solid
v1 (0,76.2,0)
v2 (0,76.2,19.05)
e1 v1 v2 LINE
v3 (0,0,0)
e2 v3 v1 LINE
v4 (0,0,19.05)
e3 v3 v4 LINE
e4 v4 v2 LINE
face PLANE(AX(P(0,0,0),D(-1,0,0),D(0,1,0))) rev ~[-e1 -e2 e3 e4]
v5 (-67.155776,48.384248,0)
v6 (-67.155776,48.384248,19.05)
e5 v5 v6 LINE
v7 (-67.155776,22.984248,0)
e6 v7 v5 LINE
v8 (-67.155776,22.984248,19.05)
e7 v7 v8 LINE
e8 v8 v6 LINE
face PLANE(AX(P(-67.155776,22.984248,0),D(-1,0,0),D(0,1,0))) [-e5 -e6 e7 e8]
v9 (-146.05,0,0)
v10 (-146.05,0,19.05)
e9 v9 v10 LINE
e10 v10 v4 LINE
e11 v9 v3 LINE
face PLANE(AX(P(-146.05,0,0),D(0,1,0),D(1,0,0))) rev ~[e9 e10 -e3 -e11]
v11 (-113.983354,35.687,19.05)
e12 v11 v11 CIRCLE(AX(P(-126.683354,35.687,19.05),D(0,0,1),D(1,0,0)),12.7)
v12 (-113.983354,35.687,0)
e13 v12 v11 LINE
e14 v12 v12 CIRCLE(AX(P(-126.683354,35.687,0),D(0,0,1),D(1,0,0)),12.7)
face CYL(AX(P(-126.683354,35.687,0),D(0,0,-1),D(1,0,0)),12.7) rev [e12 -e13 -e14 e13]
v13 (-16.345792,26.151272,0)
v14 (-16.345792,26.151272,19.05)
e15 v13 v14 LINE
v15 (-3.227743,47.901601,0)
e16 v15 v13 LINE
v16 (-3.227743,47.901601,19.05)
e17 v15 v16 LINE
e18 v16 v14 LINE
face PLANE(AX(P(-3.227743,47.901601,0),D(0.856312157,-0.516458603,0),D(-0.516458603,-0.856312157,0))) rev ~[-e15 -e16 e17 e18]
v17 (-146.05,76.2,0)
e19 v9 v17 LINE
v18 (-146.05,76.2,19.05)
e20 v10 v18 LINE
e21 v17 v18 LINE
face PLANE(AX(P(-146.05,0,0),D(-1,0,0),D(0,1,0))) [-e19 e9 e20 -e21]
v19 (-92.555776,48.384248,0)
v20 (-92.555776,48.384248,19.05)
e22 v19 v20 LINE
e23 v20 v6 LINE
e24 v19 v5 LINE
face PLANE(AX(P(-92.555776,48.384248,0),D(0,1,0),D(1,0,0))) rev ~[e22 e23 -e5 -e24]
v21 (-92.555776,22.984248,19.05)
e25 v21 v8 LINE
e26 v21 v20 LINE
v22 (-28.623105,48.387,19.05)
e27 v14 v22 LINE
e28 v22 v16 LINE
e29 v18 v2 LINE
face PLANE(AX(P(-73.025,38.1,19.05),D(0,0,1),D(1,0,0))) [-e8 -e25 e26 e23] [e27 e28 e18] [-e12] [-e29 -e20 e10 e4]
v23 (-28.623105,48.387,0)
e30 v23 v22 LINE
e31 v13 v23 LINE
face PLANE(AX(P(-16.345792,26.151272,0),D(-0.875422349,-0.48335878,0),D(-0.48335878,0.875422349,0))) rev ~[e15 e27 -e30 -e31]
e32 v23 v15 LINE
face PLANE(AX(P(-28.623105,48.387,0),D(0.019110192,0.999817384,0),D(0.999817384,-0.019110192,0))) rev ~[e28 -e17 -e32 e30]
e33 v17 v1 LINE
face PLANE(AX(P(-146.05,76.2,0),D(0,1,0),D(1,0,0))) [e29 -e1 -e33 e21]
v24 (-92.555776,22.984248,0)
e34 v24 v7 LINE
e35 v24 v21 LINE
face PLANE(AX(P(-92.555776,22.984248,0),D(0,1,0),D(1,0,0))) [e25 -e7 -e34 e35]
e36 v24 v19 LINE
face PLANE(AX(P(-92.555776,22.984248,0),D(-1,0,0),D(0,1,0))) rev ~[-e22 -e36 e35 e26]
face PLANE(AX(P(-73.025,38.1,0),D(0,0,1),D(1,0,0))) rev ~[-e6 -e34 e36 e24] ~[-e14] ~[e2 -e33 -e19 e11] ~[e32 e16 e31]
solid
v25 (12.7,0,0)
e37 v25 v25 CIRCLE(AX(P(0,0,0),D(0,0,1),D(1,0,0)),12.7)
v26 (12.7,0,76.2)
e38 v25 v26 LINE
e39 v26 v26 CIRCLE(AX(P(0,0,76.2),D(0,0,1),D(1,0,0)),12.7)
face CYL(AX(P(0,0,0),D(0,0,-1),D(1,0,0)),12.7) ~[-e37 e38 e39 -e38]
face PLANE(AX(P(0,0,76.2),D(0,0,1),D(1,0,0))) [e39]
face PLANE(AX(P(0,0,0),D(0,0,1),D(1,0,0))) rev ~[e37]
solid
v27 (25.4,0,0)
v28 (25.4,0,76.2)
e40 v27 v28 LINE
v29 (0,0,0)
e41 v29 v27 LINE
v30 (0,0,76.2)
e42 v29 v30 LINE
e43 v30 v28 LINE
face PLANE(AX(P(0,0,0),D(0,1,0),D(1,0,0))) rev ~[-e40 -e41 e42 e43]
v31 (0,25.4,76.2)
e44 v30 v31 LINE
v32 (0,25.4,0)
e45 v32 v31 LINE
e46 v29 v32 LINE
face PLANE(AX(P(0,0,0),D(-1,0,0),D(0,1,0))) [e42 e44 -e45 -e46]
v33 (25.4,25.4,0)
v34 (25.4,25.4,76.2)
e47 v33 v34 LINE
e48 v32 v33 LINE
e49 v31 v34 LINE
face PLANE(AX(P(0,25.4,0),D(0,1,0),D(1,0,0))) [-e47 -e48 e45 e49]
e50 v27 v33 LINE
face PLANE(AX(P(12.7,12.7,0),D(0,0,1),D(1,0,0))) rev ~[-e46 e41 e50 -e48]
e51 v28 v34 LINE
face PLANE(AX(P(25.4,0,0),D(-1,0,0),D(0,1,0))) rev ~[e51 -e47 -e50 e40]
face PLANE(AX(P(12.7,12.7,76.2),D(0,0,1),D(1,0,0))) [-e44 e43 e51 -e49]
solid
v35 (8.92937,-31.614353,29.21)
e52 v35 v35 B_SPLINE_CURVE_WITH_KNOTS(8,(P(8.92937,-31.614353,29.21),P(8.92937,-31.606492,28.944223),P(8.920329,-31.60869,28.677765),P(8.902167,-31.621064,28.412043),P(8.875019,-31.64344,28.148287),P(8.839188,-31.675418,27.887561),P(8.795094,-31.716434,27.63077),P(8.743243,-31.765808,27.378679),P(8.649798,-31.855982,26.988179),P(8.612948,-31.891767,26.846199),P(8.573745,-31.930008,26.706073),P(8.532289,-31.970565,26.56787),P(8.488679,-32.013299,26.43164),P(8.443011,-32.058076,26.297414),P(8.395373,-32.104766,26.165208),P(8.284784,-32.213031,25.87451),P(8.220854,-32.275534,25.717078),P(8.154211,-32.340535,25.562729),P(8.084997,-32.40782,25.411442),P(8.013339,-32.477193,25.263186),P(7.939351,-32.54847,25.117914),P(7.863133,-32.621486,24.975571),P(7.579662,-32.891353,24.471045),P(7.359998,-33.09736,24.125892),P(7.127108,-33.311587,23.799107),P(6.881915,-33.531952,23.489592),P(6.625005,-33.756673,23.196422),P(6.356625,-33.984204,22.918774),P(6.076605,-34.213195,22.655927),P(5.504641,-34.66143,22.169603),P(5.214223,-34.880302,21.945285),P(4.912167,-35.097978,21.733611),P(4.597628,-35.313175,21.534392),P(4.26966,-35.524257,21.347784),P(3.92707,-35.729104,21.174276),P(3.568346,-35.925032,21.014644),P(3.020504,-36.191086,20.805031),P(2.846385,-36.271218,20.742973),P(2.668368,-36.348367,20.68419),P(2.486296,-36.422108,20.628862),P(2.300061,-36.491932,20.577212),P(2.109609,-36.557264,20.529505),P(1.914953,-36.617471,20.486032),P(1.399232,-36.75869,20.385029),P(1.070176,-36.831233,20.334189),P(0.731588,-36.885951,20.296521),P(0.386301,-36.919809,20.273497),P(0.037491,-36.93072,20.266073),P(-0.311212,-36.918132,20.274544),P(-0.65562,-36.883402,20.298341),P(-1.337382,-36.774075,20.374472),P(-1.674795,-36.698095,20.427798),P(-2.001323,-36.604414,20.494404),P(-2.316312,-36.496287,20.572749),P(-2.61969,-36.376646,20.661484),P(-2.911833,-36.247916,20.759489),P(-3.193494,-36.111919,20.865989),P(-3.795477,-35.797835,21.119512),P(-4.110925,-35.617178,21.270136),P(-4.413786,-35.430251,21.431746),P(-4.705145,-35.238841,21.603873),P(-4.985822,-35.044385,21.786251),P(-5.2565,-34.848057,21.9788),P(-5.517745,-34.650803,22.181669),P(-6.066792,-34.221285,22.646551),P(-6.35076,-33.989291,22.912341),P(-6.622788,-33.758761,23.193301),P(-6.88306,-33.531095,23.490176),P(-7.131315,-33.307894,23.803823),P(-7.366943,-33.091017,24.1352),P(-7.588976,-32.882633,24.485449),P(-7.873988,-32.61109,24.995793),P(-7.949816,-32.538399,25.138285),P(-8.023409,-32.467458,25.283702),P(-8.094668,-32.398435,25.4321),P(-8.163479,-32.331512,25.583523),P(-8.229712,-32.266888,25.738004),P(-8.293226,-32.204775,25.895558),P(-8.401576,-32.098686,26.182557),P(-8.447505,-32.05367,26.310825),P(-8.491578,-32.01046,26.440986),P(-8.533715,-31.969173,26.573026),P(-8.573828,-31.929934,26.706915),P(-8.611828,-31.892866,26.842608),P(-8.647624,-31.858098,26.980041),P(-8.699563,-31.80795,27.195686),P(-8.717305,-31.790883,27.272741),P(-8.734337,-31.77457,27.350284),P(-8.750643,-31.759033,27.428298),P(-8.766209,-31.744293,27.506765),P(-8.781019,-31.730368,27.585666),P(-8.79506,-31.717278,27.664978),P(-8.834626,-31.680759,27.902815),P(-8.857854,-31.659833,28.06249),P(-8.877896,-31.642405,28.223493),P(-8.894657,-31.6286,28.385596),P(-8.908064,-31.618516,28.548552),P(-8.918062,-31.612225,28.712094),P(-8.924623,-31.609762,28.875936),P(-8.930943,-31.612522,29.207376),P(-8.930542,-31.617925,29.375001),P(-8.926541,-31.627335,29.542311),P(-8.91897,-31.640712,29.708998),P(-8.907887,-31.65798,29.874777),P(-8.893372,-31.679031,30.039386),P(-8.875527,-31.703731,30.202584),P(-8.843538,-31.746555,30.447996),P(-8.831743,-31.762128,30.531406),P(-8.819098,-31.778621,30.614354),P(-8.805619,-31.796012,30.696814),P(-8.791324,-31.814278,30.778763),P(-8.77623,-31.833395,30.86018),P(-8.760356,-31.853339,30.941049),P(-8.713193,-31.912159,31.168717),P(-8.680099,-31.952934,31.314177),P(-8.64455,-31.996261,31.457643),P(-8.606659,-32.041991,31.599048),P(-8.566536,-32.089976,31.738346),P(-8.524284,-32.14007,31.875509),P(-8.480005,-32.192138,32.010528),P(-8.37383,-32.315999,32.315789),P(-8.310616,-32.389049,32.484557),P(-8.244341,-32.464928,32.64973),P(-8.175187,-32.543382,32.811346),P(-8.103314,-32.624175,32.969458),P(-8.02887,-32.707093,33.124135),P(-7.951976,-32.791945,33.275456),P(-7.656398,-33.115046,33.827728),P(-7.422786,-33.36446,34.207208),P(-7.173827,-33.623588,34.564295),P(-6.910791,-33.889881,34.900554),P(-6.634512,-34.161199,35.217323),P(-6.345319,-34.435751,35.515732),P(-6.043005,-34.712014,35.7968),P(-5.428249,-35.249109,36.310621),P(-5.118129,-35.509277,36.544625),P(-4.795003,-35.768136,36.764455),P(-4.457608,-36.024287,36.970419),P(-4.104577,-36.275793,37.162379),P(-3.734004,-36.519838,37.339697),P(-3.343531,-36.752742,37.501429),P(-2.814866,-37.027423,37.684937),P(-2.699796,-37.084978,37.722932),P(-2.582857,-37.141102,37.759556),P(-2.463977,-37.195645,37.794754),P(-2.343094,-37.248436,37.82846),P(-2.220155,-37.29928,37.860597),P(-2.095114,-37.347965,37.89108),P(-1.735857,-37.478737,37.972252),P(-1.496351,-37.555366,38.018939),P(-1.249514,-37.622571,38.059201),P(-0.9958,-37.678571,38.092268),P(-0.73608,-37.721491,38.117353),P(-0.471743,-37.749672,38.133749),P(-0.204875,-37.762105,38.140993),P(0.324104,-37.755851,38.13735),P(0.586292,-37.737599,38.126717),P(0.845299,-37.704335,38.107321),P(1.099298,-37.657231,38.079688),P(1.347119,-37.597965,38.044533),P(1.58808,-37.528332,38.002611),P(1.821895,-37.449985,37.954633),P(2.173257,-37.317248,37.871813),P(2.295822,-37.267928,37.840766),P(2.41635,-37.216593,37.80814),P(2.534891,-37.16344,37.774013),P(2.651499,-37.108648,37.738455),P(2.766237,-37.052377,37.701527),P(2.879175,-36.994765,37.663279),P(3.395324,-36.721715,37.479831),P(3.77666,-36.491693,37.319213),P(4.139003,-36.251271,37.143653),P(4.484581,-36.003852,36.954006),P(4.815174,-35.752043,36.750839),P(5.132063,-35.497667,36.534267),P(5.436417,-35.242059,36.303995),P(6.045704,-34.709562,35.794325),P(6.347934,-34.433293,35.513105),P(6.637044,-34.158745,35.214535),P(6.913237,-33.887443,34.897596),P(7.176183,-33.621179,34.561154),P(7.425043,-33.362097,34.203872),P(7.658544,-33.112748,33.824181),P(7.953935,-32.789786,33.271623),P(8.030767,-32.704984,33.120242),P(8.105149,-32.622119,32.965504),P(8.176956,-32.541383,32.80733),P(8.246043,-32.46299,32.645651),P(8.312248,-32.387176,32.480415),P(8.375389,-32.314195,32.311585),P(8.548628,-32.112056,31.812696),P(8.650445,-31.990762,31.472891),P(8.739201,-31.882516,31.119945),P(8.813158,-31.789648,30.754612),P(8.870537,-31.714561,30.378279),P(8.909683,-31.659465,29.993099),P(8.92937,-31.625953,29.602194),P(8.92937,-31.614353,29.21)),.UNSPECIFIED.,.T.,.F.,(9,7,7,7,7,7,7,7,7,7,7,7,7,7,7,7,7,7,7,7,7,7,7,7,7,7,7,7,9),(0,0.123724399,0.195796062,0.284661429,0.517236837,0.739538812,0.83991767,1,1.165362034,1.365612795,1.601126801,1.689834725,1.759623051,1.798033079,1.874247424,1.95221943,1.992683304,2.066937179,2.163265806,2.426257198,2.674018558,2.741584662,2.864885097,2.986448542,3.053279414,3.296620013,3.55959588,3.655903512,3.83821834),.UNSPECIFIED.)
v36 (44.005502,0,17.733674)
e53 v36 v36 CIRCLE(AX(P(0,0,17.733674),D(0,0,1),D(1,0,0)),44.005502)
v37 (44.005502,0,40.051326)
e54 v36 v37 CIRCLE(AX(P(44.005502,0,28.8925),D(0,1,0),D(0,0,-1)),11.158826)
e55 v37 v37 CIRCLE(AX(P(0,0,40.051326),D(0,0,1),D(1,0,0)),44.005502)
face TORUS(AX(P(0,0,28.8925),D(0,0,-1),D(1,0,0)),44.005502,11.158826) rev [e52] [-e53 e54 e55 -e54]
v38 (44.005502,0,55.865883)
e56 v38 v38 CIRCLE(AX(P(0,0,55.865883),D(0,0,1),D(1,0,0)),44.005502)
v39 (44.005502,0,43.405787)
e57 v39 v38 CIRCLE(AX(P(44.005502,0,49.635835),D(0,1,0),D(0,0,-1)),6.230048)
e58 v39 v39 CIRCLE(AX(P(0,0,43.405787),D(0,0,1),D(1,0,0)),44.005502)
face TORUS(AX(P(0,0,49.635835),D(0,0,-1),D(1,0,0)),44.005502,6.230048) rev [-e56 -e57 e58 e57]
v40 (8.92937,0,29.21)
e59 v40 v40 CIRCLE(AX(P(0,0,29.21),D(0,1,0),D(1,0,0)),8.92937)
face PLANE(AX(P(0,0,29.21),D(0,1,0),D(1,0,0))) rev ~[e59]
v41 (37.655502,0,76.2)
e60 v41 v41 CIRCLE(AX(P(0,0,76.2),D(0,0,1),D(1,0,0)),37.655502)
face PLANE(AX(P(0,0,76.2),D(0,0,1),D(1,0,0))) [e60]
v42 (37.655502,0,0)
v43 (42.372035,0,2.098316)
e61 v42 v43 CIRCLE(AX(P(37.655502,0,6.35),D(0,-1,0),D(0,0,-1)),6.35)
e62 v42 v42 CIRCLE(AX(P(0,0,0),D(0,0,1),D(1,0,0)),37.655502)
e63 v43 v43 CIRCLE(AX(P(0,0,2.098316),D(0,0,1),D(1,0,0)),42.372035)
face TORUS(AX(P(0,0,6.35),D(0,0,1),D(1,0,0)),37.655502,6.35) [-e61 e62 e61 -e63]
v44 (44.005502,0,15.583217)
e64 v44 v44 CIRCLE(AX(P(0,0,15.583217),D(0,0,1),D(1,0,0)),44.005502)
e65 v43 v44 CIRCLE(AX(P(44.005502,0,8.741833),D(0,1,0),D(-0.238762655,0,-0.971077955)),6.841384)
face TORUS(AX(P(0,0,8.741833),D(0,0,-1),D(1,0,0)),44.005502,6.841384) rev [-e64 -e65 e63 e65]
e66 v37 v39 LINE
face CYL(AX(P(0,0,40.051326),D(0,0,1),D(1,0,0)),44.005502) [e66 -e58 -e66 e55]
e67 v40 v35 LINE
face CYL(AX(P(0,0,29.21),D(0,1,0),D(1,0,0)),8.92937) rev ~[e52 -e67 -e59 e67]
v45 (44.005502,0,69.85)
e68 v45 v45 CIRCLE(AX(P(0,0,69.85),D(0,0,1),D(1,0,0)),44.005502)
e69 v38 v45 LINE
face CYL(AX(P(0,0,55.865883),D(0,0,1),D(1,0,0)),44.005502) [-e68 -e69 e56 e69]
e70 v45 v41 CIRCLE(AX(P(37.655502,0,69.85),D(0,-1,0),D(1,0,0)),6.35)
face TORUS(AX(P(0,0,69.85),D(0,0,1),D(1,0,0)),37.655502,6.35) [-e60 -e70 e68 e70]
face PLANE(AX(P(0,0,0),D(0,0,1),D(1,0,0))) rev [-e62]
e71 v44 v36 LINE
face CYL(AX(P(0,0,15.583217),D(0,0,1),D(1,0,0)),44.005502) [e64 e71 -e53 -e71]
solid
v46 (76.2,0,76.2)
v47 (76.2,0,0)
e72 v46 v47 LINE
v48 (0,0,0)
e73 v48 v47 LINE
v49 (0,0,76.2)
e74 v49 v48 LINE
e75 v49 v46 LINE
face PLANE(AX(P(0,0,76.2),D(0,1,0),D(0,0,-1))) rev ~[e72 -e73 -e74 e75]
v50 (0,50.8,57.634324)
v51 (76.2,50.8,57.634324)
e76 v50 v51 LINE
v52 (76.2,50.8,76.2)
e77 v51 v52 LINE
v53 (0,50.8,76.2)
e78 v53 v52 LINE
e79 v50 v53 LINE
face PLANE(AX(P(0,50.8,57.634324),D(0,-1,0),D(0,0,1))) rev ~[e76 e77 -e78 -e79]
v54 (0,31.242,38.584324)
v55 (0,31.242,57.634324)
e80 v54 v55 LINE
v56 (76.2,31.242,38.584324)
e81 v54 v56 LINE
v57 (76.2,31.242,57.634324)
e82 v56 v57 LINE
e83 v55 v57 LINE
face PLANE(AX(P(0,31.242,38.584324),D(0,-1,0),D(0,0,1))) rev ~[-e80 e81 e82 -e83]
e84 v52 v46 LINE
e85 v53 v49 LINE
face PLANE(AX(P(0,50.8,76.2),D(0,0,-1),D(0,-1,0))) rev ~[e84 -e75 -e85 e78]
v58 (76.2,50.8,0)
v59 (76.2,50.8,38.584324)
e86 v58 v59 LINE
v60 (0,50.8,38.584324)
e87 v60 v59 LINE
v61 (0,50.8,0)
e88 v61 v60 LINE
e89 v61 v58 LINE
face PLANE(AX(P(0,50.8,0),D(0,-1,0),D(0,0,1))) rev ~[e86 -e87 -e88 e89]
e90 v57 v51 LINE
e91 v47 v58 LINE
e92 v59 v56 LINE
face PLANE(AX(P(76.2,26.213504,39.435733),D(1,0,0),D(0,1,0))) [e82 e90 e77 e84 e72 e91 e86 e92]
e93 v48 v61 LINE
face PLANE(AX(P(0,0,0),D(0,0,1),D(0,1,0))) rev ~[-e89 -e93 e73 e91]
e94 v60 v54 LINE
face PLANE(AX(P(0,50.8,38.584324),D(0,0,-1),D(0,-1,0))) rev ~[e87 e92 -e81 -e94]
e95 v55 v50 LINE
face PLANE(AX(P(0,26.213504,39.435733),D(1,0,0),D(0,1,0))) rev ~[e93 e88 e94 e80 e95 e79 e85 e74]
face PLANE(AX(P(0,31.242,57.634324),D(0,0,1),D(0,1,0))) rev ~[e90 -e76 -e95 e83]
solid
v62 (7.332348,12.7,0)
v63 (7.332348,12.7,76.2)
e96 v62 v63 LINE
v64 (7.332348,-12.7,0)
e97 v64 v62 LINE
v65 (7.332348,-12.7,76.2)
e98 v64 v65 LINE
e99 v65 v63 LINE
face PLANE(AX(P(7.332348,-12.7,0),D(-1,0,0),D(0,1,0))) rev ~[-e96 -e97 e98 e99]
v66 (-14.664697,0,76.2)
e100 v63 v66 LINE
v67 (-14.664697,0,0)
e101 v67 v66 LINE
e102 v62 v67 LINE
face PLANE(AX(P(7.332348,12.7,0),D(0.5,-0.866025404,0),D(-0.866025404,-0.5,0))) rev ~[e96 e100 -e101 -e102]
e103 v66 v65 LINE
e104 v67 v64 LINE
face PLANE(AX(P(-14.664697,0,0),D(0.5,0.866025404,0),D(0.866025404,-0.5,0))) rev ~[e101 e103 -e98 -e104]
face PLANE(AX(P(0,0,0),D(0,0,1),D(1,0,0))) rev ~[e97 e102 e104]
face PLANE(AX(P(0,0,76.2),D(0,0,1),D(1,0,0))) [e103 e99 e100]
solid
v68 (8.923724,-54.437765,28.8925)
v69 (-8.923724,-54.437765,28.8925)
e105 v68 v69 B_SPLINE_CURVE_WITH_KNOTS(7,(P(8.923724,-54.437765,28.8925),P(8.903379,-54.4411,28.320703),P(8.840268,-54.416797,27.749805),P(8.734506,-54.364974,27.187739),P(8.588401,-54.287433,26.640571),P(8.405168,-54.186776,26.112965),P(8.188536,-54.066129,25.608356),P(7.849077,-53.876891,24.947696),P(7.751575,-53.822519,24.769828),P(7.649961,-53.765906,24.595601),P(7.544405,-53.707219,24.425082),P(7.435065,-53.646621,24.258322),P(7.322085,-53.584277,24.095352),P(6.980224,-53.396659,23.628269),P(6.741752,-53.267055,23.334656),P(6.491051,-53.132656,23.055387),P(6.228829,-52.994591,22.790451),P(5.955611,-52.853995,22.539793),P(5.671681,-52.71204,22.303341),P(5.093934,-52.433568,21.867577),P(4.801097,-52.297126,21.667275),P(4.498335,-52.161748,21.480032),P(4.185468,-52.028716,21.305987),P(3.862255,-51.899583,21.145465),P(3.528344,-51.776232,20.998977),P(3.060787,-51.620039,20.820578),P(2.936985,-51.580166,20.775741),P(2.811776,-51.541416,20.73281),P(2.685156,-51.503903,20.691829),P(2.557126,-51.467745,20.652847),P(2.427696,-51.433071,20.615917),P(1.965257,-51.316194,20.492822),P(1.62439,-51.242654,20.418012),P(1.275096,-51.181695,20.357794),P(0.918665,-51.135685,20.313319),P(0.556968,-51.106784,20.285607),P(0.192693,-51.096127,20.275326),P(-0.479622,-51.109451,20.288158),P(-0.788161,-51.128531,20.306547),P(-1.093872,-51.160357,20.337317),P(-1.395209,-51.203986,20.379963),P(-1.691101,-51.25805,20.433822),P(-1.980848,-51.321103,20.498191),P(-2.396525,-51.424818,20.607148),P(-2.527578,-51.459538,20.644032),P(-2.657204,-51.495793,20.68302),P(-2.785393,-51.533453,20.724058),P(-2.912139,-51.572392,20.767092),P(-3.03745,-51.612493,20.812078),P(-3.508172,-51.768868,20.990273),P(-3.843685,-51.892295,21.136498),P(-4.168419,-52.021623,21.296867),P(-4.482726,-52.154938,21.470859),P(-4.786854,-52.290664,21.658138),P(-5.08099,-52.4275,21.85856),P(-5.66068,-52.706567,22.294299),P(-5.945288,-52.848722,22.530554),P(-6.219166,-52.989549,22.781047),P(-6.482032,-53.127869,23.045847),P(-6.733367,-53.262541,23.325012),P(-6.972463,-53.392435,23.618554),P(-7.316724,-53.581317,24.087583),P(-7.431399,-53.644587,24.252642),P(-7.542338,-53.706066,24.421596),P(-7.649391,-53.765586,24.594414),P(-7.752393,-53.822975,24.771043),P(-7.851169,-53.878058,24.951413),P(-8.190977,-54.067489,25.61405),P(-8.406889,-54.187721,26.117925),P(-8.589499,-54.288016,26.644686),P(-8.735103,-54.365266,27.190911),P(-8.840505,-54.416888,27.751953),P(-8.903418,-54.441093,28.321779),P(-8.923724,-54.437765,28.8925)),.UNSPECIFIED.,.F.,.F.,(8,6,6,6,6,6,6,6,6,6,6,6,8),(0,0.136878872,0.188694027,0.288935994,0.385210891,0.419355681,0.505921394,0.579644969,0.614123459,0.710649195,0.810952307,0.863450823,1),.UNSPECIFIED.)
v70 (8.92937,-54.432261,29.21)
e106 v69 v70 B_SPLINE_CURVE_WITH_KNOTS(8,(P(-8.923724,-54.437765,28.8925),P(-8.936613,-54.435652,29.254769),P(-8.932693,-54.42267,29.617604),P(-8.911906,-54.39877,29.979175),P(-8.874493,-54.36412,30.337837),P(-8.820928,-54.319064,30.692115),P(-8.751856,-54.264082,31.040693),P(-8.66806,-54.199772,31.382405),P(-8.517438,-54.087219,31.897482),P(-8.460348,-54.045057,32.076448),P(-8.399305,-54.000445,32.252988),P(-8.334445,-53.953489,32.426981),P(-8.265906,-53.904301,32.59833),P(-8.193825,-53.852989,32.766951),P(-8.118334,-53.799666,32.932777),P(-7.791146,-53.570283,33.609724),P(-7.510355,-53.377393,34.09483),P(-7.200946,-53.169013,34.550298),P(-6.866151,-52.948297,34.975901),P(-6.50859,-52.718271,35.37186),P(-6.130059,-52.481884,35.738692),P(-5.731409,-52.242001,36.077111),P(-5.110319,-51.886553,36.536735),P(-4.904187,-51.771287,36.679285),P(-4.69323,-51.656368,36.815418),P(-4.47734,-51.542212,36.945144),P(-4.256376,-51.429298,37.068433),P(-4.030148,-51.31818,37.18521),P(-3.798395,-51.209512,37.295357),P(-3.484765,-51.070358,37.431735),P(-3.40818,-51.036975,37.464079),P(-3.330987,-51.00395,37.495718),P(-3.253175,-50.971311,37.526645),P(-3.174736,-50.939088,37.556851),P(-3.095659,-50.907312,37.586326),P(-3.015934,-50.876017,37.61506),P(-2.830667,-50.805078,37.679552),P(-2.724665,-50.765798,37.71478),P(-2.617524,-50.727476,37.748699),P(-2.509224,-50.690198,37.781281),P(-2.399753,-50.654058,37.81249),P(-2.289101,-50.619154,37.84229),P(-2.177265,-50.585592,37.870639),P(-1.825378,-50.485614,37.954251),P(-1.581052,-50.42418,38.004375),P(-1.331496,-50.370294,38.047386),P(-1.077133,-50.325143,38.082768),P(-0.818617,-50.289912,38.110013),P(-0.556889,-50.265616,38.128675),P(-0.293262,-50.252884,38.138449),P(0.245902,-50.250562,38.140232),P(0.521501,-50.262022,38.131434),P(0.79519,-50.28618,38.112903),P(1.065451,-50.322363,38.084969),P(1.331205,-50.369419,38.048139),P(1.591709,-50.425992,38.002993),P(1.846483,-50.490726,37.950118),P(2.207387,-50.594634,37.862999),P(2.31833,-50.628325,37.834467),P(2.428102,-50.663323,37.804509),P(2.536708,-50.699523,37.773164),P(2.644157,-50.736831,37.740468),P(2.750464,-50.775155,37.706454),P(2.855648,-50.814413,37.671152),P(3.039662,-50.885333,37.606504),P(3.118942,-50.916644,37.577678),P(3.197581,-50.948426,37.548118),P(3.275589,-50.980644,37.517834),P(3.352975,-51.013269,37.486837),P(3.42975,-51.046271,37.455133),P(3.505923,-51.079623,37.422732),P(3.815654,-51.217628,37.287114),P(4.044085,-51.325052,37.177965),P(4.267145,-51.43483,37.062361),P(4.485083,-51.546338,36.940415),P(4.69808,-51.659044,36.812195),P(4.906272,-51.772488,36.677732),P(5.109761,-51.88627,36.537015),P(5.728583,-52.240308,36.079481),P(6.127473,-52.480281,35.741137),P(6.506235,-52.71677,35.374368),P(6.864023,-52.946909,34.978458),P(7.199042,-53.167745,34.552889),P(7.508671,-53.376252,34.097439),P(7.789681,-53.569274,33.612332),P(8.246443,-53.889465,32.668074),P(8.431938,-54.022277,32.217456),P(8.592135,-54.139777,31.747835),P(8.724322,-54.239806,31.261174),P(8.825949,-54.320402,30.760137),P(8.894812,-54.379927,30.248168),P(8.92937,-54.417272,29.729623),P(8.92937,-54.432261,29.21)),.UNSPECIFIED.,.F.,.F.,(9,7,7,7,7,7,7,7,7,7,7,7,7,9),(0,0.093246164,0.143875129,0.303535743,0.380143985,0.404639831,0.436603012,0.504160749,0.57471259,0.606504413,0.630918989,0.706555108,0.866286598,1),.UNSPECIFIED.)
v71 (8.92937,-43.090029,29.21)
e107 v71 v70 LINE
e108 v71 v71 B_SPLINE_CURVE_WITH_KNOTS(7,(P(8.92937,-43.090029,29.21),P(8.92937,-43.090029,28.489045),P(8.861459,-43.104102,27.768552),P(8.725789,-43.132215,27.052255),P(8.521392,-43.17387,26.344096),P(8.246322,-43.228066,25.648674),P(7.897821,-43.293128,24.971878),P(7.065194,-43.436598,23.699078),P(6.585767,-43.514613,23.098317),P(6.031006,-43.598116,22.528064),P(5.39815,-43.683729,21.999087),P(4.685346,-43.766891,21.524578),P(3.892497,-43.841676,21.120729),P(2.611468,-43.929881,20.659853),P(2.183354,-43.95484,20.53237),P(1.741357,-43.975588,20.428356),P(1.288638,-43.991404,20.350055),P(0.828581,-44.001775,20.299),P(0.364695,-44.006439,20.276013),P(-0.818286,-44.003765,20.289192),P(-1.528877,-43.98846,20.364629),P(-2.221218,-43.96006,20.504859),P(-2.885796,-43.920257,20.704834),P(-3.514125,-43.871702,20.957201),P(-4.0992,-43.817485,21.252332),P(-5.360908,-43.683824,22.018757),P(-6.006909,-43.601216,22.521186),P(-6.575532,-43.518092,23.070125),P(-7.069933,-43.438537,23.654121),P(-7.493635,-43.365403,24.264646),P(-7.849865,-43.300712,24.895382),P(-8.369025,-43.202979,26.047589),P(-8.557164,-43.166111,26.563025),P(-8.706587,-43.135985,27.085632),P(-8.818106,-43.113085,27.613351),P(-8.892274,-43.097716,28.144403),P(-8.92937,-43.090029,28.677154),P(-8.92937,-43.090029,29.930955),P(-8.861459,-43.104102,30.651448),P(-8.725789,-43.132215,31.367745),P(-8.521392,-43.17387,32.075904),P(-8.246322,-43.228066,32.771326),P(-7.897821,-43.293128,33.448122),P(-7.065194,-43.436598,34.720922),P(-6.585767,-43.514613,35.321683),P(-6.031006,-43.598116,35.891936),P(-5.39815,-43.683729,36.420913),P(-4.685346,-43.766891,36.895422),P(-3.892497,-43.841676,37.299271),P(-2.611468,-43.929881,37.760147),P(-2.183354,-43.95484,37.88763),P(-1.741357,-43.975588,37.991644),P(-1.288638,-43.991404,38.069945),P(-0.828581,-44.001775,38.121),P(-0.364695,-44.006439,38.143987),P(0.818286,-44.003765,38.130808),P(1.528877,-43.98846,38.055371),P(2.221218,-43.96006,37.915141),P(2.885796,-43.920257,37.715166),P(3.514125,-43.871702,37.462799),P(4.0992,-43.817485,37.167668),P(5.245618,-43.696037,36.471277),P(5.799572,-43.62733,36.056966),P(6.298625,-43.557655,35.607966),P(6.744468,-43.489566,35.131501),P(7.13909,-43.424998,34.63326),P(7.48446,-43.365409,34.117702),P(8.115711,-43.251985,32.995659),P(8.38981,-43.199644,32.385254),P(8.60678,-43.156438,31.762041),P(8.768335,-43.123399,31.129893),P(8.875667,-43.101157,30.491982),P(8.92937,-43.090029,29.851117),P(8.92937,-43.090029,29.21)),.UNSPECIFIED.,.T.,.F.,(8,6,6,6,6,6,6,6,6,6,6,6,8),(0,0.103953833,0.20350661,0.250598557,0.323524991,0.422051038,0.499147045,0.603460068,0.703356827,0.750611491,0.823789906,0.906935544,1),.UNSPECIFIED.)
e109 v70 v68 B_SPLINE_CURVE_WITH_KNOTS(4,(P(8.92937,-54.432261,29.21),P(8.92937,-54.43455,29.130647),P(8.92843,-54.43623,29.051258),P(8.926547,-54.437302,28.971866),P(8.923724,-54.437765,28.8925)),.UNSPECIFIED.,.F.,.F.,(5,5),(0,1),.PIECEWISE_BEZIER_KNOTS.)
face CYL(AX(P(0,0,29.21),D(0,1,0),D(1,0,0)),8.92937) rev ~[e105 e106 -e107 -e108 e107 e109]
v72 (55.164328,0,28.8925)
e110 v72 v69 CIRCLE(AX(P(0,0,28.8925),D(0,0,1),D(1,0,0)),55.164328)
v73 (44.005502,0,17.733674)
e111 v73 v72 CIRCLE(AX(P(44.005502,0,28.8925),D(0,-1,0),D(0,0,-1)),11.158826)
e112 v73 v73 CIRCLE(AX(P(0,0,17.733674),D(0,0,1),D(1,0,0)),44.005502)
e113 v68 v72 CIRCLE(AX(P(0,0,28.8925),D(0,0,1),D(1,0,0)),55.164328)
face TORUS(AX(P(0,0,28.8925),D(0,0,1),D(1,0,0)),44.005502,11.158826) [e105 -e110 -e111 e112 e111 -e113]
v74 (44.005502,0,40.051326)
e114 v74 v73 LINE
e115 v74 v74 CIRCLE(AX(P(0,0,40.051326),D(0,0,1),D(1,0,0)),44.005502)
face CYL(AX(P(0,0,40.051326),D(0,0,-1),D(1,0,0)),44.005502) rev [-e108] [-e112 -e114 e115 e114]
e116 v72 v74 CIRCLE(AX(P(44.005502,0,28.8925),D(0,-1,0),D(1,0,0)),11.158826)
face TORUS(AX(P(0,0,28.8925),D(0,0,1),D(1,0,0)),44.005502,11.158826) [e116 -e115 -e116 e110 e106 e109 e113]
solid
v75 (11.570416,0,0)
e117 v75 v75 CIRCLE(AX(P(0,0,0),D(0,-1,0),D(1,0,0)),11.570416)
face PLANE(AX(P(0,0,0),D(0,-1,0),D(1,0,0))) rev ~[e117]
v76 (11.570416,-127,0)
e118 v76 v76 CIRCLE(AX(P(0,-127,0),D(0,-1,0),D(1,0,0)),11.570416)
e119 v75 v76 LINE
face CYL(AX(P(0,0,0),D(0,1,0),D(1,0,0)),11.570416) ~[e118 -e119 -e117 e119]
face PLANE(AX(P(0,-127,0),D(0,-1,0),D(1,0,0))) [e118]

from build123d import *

# Parameters (mm, degrees)
F0_R        = 12.7
F1_DEPTH    = 76.2
F2_W        = 25.4
F2_H        = 25.4
F3_DEPTH    = 76.2
F5_DEPTH    = 76.2
F6_W        = 146.05
F6_H        = 76.2
F6_R        = 12.7
F6_W_2      = 25.4
F6_H_2      = 25.4
F7_DEPTH    = 19.05
F9_DEPTH    = 76.2
F13_D       = 17.85874
F13_DEPTH   = 55.1653280226
F13_2_D     = 17.85874
F13_2_DEPTH = 55.1653280226
F14_R       = 11.5704161796
F15_DEPTH   = 127


with BuildPart() as f1:
    # F0 (on Top) → F1 (new body)
    with BuildSketch(Plane.XY):
        Circle(F0_R)
    extrude(amount=F1_DEPTH)


with BuildPart() as f3:
    # F2 (on Top) → F3 (new body)
    with BuildSketch(Plane.XY):
        with Locations((12.7, 12.7)):
            Rectangle(F2_W, F2_H)
    extrude(amount=F3_DEPTH)


with BuildPart() as f5:
    # F4 (on Top) → F5 (new body)
    with BuildSketch(Plane.XY):
        Polygon((7.3323484187, -12.7), (7.3323484187, 12.7), (-14.6646968374, 0), align=None)
    extrude(amount=F5_DEPTH)


with BuildPart() as f7:
    # F6 (on Top) → F7 (new body)
    with BuildSketch(Plane.XY):
        with Locations((-73.025, 38.1)):
            Rectangle(F6_W, F6_H)
        with Locations((-126.6833543777, 35.687)):
            Circle(F6_R, mode=Mode.SUBTRACT)
        with Locations((-79.8557762384, 35.6842476547)):
            Rectangle(F6_W_2, F6_H_2, mode=Mode.SUBTRACT)
        Polygon((-28.6231048173, 48.387), (-3.2277432737, 47.9016011246), (-16.3457918026, 26.1512723272), align=None, mode=Mode.SUBTRACT)
    extrude(amount=F7_DEPTH)


with BuildPart() as f9:
    # F8 (on Right) → F9 (new body)
    with BuildSketch(Plane.YZ):
        Polygon((0, 76.2), (0, 0), (50.8, 0), (50.8, 38.5843238226), (31.242, 38.5843238226), (31.242, 57.6343238226), (50.8, 57.6343238226), (50.8, 76.2), align=None)
    extrude(amount=F9_DEPTH)


with BuildPart() as f11:
    # F10 (on Front) → F11 (revolve)
    with BuildSketch(Plane.XZ):
        with BuildLine():
            Line((0, 76.2), (0, 0))
            Line((0, 0), (37.6555020154, 0))
            ThreePointArc((37.6555020154, 0), (40.2366167673, 0.5482462447), (42.3720349933, 2.0983160197))
            ThreePointArc((42.3720349933, 2.0983160197), (37.2137647918, 9.5645370118), (44.0055020154, 15.5832173373))
            Line((44.0055020154, 15.5832173373), (44.0055020154, 17.7336744188))
            ThreePointArc((44.0055020154, 17.7336744188), (32.8466761081, 28.892500326), (44.0055020154, 40.0513262333))
            Line((44.0055020154, 40.0513262333), (44.0055020154, 43.4057866335))
            ThreePointArc((44.0055020154, 43.4057866335), (37.7754536569, 49.6358349919), (44.0055020154, 55.8658833504))
            Line((44.0055020154, 55.8658833504), (44.0055020154, 69.85))
            ThreePointArc((44.0055020154, 69.85), (42.1456300759, 74.3401280605), (37.6555020154, 76.2))
            Line((37.6555020154, 76.2), (0, 76.2))
        make_face()
    revolve(axis=Axis((0, 0, 38.1), (0, 0, 1)))

    # F13 (through all, one way)
    with BuildSketch(Plane(origin=(0, 0, 0), x_dir=(1, 0, 0), z_dir=(0, 1, 0))):
        with Locations((0, -29.21)):
            Circle(F13_D / 2)
    extrude(amount=-F13_DEPTH, mode=Mode.SUBTRACT)


with BuildPart() as f11b:
    # F10 (on Front) → F11, piece 2 (revolve)
    with BuildSketch(Plane.XZ):
        with BuildLine():
            Line((44.0055020154, 40.0513262333), (44.0055020154, 17.7336744188))
            ThreePointArc((44.0055020154, 17.7336744188), (51.8959834844, 21.0020188569), (55.1643279226, 28.892500326))
            ThreePointArc((55.1643279226, 28.892500326), (51.8959834844, 36.7829817951), (44.0055020154, 40.0513262333))
        make_face()
    revolve(axis=Axis((0, 0, 38.1), (0, 0, 1)))

    # F13#2 (through all, one way)
    with BuildSketch(Plane(origin=(0, 0, 0), x_dir=(1, 0, 0), z_dir=(0, 1, 0))):
        with Locations((0, -29.21)):
            Circle(F13_2_D / 2)
    extrude(amount=-F13_2_DEPTH, mode=Mode.SUBTRACT)


with BuildPart() as f15:
    # F14 (on Front) → F15 (new body)
    with BuildSketch(Plane.XZ):
        Circle(F14_R)
    extrude(amount=F15_DEPTH)


solid = Compound([f1.part, f3.part, f5.part, f7.part, f9.part, f11.part, f11b.part, f15.part])
